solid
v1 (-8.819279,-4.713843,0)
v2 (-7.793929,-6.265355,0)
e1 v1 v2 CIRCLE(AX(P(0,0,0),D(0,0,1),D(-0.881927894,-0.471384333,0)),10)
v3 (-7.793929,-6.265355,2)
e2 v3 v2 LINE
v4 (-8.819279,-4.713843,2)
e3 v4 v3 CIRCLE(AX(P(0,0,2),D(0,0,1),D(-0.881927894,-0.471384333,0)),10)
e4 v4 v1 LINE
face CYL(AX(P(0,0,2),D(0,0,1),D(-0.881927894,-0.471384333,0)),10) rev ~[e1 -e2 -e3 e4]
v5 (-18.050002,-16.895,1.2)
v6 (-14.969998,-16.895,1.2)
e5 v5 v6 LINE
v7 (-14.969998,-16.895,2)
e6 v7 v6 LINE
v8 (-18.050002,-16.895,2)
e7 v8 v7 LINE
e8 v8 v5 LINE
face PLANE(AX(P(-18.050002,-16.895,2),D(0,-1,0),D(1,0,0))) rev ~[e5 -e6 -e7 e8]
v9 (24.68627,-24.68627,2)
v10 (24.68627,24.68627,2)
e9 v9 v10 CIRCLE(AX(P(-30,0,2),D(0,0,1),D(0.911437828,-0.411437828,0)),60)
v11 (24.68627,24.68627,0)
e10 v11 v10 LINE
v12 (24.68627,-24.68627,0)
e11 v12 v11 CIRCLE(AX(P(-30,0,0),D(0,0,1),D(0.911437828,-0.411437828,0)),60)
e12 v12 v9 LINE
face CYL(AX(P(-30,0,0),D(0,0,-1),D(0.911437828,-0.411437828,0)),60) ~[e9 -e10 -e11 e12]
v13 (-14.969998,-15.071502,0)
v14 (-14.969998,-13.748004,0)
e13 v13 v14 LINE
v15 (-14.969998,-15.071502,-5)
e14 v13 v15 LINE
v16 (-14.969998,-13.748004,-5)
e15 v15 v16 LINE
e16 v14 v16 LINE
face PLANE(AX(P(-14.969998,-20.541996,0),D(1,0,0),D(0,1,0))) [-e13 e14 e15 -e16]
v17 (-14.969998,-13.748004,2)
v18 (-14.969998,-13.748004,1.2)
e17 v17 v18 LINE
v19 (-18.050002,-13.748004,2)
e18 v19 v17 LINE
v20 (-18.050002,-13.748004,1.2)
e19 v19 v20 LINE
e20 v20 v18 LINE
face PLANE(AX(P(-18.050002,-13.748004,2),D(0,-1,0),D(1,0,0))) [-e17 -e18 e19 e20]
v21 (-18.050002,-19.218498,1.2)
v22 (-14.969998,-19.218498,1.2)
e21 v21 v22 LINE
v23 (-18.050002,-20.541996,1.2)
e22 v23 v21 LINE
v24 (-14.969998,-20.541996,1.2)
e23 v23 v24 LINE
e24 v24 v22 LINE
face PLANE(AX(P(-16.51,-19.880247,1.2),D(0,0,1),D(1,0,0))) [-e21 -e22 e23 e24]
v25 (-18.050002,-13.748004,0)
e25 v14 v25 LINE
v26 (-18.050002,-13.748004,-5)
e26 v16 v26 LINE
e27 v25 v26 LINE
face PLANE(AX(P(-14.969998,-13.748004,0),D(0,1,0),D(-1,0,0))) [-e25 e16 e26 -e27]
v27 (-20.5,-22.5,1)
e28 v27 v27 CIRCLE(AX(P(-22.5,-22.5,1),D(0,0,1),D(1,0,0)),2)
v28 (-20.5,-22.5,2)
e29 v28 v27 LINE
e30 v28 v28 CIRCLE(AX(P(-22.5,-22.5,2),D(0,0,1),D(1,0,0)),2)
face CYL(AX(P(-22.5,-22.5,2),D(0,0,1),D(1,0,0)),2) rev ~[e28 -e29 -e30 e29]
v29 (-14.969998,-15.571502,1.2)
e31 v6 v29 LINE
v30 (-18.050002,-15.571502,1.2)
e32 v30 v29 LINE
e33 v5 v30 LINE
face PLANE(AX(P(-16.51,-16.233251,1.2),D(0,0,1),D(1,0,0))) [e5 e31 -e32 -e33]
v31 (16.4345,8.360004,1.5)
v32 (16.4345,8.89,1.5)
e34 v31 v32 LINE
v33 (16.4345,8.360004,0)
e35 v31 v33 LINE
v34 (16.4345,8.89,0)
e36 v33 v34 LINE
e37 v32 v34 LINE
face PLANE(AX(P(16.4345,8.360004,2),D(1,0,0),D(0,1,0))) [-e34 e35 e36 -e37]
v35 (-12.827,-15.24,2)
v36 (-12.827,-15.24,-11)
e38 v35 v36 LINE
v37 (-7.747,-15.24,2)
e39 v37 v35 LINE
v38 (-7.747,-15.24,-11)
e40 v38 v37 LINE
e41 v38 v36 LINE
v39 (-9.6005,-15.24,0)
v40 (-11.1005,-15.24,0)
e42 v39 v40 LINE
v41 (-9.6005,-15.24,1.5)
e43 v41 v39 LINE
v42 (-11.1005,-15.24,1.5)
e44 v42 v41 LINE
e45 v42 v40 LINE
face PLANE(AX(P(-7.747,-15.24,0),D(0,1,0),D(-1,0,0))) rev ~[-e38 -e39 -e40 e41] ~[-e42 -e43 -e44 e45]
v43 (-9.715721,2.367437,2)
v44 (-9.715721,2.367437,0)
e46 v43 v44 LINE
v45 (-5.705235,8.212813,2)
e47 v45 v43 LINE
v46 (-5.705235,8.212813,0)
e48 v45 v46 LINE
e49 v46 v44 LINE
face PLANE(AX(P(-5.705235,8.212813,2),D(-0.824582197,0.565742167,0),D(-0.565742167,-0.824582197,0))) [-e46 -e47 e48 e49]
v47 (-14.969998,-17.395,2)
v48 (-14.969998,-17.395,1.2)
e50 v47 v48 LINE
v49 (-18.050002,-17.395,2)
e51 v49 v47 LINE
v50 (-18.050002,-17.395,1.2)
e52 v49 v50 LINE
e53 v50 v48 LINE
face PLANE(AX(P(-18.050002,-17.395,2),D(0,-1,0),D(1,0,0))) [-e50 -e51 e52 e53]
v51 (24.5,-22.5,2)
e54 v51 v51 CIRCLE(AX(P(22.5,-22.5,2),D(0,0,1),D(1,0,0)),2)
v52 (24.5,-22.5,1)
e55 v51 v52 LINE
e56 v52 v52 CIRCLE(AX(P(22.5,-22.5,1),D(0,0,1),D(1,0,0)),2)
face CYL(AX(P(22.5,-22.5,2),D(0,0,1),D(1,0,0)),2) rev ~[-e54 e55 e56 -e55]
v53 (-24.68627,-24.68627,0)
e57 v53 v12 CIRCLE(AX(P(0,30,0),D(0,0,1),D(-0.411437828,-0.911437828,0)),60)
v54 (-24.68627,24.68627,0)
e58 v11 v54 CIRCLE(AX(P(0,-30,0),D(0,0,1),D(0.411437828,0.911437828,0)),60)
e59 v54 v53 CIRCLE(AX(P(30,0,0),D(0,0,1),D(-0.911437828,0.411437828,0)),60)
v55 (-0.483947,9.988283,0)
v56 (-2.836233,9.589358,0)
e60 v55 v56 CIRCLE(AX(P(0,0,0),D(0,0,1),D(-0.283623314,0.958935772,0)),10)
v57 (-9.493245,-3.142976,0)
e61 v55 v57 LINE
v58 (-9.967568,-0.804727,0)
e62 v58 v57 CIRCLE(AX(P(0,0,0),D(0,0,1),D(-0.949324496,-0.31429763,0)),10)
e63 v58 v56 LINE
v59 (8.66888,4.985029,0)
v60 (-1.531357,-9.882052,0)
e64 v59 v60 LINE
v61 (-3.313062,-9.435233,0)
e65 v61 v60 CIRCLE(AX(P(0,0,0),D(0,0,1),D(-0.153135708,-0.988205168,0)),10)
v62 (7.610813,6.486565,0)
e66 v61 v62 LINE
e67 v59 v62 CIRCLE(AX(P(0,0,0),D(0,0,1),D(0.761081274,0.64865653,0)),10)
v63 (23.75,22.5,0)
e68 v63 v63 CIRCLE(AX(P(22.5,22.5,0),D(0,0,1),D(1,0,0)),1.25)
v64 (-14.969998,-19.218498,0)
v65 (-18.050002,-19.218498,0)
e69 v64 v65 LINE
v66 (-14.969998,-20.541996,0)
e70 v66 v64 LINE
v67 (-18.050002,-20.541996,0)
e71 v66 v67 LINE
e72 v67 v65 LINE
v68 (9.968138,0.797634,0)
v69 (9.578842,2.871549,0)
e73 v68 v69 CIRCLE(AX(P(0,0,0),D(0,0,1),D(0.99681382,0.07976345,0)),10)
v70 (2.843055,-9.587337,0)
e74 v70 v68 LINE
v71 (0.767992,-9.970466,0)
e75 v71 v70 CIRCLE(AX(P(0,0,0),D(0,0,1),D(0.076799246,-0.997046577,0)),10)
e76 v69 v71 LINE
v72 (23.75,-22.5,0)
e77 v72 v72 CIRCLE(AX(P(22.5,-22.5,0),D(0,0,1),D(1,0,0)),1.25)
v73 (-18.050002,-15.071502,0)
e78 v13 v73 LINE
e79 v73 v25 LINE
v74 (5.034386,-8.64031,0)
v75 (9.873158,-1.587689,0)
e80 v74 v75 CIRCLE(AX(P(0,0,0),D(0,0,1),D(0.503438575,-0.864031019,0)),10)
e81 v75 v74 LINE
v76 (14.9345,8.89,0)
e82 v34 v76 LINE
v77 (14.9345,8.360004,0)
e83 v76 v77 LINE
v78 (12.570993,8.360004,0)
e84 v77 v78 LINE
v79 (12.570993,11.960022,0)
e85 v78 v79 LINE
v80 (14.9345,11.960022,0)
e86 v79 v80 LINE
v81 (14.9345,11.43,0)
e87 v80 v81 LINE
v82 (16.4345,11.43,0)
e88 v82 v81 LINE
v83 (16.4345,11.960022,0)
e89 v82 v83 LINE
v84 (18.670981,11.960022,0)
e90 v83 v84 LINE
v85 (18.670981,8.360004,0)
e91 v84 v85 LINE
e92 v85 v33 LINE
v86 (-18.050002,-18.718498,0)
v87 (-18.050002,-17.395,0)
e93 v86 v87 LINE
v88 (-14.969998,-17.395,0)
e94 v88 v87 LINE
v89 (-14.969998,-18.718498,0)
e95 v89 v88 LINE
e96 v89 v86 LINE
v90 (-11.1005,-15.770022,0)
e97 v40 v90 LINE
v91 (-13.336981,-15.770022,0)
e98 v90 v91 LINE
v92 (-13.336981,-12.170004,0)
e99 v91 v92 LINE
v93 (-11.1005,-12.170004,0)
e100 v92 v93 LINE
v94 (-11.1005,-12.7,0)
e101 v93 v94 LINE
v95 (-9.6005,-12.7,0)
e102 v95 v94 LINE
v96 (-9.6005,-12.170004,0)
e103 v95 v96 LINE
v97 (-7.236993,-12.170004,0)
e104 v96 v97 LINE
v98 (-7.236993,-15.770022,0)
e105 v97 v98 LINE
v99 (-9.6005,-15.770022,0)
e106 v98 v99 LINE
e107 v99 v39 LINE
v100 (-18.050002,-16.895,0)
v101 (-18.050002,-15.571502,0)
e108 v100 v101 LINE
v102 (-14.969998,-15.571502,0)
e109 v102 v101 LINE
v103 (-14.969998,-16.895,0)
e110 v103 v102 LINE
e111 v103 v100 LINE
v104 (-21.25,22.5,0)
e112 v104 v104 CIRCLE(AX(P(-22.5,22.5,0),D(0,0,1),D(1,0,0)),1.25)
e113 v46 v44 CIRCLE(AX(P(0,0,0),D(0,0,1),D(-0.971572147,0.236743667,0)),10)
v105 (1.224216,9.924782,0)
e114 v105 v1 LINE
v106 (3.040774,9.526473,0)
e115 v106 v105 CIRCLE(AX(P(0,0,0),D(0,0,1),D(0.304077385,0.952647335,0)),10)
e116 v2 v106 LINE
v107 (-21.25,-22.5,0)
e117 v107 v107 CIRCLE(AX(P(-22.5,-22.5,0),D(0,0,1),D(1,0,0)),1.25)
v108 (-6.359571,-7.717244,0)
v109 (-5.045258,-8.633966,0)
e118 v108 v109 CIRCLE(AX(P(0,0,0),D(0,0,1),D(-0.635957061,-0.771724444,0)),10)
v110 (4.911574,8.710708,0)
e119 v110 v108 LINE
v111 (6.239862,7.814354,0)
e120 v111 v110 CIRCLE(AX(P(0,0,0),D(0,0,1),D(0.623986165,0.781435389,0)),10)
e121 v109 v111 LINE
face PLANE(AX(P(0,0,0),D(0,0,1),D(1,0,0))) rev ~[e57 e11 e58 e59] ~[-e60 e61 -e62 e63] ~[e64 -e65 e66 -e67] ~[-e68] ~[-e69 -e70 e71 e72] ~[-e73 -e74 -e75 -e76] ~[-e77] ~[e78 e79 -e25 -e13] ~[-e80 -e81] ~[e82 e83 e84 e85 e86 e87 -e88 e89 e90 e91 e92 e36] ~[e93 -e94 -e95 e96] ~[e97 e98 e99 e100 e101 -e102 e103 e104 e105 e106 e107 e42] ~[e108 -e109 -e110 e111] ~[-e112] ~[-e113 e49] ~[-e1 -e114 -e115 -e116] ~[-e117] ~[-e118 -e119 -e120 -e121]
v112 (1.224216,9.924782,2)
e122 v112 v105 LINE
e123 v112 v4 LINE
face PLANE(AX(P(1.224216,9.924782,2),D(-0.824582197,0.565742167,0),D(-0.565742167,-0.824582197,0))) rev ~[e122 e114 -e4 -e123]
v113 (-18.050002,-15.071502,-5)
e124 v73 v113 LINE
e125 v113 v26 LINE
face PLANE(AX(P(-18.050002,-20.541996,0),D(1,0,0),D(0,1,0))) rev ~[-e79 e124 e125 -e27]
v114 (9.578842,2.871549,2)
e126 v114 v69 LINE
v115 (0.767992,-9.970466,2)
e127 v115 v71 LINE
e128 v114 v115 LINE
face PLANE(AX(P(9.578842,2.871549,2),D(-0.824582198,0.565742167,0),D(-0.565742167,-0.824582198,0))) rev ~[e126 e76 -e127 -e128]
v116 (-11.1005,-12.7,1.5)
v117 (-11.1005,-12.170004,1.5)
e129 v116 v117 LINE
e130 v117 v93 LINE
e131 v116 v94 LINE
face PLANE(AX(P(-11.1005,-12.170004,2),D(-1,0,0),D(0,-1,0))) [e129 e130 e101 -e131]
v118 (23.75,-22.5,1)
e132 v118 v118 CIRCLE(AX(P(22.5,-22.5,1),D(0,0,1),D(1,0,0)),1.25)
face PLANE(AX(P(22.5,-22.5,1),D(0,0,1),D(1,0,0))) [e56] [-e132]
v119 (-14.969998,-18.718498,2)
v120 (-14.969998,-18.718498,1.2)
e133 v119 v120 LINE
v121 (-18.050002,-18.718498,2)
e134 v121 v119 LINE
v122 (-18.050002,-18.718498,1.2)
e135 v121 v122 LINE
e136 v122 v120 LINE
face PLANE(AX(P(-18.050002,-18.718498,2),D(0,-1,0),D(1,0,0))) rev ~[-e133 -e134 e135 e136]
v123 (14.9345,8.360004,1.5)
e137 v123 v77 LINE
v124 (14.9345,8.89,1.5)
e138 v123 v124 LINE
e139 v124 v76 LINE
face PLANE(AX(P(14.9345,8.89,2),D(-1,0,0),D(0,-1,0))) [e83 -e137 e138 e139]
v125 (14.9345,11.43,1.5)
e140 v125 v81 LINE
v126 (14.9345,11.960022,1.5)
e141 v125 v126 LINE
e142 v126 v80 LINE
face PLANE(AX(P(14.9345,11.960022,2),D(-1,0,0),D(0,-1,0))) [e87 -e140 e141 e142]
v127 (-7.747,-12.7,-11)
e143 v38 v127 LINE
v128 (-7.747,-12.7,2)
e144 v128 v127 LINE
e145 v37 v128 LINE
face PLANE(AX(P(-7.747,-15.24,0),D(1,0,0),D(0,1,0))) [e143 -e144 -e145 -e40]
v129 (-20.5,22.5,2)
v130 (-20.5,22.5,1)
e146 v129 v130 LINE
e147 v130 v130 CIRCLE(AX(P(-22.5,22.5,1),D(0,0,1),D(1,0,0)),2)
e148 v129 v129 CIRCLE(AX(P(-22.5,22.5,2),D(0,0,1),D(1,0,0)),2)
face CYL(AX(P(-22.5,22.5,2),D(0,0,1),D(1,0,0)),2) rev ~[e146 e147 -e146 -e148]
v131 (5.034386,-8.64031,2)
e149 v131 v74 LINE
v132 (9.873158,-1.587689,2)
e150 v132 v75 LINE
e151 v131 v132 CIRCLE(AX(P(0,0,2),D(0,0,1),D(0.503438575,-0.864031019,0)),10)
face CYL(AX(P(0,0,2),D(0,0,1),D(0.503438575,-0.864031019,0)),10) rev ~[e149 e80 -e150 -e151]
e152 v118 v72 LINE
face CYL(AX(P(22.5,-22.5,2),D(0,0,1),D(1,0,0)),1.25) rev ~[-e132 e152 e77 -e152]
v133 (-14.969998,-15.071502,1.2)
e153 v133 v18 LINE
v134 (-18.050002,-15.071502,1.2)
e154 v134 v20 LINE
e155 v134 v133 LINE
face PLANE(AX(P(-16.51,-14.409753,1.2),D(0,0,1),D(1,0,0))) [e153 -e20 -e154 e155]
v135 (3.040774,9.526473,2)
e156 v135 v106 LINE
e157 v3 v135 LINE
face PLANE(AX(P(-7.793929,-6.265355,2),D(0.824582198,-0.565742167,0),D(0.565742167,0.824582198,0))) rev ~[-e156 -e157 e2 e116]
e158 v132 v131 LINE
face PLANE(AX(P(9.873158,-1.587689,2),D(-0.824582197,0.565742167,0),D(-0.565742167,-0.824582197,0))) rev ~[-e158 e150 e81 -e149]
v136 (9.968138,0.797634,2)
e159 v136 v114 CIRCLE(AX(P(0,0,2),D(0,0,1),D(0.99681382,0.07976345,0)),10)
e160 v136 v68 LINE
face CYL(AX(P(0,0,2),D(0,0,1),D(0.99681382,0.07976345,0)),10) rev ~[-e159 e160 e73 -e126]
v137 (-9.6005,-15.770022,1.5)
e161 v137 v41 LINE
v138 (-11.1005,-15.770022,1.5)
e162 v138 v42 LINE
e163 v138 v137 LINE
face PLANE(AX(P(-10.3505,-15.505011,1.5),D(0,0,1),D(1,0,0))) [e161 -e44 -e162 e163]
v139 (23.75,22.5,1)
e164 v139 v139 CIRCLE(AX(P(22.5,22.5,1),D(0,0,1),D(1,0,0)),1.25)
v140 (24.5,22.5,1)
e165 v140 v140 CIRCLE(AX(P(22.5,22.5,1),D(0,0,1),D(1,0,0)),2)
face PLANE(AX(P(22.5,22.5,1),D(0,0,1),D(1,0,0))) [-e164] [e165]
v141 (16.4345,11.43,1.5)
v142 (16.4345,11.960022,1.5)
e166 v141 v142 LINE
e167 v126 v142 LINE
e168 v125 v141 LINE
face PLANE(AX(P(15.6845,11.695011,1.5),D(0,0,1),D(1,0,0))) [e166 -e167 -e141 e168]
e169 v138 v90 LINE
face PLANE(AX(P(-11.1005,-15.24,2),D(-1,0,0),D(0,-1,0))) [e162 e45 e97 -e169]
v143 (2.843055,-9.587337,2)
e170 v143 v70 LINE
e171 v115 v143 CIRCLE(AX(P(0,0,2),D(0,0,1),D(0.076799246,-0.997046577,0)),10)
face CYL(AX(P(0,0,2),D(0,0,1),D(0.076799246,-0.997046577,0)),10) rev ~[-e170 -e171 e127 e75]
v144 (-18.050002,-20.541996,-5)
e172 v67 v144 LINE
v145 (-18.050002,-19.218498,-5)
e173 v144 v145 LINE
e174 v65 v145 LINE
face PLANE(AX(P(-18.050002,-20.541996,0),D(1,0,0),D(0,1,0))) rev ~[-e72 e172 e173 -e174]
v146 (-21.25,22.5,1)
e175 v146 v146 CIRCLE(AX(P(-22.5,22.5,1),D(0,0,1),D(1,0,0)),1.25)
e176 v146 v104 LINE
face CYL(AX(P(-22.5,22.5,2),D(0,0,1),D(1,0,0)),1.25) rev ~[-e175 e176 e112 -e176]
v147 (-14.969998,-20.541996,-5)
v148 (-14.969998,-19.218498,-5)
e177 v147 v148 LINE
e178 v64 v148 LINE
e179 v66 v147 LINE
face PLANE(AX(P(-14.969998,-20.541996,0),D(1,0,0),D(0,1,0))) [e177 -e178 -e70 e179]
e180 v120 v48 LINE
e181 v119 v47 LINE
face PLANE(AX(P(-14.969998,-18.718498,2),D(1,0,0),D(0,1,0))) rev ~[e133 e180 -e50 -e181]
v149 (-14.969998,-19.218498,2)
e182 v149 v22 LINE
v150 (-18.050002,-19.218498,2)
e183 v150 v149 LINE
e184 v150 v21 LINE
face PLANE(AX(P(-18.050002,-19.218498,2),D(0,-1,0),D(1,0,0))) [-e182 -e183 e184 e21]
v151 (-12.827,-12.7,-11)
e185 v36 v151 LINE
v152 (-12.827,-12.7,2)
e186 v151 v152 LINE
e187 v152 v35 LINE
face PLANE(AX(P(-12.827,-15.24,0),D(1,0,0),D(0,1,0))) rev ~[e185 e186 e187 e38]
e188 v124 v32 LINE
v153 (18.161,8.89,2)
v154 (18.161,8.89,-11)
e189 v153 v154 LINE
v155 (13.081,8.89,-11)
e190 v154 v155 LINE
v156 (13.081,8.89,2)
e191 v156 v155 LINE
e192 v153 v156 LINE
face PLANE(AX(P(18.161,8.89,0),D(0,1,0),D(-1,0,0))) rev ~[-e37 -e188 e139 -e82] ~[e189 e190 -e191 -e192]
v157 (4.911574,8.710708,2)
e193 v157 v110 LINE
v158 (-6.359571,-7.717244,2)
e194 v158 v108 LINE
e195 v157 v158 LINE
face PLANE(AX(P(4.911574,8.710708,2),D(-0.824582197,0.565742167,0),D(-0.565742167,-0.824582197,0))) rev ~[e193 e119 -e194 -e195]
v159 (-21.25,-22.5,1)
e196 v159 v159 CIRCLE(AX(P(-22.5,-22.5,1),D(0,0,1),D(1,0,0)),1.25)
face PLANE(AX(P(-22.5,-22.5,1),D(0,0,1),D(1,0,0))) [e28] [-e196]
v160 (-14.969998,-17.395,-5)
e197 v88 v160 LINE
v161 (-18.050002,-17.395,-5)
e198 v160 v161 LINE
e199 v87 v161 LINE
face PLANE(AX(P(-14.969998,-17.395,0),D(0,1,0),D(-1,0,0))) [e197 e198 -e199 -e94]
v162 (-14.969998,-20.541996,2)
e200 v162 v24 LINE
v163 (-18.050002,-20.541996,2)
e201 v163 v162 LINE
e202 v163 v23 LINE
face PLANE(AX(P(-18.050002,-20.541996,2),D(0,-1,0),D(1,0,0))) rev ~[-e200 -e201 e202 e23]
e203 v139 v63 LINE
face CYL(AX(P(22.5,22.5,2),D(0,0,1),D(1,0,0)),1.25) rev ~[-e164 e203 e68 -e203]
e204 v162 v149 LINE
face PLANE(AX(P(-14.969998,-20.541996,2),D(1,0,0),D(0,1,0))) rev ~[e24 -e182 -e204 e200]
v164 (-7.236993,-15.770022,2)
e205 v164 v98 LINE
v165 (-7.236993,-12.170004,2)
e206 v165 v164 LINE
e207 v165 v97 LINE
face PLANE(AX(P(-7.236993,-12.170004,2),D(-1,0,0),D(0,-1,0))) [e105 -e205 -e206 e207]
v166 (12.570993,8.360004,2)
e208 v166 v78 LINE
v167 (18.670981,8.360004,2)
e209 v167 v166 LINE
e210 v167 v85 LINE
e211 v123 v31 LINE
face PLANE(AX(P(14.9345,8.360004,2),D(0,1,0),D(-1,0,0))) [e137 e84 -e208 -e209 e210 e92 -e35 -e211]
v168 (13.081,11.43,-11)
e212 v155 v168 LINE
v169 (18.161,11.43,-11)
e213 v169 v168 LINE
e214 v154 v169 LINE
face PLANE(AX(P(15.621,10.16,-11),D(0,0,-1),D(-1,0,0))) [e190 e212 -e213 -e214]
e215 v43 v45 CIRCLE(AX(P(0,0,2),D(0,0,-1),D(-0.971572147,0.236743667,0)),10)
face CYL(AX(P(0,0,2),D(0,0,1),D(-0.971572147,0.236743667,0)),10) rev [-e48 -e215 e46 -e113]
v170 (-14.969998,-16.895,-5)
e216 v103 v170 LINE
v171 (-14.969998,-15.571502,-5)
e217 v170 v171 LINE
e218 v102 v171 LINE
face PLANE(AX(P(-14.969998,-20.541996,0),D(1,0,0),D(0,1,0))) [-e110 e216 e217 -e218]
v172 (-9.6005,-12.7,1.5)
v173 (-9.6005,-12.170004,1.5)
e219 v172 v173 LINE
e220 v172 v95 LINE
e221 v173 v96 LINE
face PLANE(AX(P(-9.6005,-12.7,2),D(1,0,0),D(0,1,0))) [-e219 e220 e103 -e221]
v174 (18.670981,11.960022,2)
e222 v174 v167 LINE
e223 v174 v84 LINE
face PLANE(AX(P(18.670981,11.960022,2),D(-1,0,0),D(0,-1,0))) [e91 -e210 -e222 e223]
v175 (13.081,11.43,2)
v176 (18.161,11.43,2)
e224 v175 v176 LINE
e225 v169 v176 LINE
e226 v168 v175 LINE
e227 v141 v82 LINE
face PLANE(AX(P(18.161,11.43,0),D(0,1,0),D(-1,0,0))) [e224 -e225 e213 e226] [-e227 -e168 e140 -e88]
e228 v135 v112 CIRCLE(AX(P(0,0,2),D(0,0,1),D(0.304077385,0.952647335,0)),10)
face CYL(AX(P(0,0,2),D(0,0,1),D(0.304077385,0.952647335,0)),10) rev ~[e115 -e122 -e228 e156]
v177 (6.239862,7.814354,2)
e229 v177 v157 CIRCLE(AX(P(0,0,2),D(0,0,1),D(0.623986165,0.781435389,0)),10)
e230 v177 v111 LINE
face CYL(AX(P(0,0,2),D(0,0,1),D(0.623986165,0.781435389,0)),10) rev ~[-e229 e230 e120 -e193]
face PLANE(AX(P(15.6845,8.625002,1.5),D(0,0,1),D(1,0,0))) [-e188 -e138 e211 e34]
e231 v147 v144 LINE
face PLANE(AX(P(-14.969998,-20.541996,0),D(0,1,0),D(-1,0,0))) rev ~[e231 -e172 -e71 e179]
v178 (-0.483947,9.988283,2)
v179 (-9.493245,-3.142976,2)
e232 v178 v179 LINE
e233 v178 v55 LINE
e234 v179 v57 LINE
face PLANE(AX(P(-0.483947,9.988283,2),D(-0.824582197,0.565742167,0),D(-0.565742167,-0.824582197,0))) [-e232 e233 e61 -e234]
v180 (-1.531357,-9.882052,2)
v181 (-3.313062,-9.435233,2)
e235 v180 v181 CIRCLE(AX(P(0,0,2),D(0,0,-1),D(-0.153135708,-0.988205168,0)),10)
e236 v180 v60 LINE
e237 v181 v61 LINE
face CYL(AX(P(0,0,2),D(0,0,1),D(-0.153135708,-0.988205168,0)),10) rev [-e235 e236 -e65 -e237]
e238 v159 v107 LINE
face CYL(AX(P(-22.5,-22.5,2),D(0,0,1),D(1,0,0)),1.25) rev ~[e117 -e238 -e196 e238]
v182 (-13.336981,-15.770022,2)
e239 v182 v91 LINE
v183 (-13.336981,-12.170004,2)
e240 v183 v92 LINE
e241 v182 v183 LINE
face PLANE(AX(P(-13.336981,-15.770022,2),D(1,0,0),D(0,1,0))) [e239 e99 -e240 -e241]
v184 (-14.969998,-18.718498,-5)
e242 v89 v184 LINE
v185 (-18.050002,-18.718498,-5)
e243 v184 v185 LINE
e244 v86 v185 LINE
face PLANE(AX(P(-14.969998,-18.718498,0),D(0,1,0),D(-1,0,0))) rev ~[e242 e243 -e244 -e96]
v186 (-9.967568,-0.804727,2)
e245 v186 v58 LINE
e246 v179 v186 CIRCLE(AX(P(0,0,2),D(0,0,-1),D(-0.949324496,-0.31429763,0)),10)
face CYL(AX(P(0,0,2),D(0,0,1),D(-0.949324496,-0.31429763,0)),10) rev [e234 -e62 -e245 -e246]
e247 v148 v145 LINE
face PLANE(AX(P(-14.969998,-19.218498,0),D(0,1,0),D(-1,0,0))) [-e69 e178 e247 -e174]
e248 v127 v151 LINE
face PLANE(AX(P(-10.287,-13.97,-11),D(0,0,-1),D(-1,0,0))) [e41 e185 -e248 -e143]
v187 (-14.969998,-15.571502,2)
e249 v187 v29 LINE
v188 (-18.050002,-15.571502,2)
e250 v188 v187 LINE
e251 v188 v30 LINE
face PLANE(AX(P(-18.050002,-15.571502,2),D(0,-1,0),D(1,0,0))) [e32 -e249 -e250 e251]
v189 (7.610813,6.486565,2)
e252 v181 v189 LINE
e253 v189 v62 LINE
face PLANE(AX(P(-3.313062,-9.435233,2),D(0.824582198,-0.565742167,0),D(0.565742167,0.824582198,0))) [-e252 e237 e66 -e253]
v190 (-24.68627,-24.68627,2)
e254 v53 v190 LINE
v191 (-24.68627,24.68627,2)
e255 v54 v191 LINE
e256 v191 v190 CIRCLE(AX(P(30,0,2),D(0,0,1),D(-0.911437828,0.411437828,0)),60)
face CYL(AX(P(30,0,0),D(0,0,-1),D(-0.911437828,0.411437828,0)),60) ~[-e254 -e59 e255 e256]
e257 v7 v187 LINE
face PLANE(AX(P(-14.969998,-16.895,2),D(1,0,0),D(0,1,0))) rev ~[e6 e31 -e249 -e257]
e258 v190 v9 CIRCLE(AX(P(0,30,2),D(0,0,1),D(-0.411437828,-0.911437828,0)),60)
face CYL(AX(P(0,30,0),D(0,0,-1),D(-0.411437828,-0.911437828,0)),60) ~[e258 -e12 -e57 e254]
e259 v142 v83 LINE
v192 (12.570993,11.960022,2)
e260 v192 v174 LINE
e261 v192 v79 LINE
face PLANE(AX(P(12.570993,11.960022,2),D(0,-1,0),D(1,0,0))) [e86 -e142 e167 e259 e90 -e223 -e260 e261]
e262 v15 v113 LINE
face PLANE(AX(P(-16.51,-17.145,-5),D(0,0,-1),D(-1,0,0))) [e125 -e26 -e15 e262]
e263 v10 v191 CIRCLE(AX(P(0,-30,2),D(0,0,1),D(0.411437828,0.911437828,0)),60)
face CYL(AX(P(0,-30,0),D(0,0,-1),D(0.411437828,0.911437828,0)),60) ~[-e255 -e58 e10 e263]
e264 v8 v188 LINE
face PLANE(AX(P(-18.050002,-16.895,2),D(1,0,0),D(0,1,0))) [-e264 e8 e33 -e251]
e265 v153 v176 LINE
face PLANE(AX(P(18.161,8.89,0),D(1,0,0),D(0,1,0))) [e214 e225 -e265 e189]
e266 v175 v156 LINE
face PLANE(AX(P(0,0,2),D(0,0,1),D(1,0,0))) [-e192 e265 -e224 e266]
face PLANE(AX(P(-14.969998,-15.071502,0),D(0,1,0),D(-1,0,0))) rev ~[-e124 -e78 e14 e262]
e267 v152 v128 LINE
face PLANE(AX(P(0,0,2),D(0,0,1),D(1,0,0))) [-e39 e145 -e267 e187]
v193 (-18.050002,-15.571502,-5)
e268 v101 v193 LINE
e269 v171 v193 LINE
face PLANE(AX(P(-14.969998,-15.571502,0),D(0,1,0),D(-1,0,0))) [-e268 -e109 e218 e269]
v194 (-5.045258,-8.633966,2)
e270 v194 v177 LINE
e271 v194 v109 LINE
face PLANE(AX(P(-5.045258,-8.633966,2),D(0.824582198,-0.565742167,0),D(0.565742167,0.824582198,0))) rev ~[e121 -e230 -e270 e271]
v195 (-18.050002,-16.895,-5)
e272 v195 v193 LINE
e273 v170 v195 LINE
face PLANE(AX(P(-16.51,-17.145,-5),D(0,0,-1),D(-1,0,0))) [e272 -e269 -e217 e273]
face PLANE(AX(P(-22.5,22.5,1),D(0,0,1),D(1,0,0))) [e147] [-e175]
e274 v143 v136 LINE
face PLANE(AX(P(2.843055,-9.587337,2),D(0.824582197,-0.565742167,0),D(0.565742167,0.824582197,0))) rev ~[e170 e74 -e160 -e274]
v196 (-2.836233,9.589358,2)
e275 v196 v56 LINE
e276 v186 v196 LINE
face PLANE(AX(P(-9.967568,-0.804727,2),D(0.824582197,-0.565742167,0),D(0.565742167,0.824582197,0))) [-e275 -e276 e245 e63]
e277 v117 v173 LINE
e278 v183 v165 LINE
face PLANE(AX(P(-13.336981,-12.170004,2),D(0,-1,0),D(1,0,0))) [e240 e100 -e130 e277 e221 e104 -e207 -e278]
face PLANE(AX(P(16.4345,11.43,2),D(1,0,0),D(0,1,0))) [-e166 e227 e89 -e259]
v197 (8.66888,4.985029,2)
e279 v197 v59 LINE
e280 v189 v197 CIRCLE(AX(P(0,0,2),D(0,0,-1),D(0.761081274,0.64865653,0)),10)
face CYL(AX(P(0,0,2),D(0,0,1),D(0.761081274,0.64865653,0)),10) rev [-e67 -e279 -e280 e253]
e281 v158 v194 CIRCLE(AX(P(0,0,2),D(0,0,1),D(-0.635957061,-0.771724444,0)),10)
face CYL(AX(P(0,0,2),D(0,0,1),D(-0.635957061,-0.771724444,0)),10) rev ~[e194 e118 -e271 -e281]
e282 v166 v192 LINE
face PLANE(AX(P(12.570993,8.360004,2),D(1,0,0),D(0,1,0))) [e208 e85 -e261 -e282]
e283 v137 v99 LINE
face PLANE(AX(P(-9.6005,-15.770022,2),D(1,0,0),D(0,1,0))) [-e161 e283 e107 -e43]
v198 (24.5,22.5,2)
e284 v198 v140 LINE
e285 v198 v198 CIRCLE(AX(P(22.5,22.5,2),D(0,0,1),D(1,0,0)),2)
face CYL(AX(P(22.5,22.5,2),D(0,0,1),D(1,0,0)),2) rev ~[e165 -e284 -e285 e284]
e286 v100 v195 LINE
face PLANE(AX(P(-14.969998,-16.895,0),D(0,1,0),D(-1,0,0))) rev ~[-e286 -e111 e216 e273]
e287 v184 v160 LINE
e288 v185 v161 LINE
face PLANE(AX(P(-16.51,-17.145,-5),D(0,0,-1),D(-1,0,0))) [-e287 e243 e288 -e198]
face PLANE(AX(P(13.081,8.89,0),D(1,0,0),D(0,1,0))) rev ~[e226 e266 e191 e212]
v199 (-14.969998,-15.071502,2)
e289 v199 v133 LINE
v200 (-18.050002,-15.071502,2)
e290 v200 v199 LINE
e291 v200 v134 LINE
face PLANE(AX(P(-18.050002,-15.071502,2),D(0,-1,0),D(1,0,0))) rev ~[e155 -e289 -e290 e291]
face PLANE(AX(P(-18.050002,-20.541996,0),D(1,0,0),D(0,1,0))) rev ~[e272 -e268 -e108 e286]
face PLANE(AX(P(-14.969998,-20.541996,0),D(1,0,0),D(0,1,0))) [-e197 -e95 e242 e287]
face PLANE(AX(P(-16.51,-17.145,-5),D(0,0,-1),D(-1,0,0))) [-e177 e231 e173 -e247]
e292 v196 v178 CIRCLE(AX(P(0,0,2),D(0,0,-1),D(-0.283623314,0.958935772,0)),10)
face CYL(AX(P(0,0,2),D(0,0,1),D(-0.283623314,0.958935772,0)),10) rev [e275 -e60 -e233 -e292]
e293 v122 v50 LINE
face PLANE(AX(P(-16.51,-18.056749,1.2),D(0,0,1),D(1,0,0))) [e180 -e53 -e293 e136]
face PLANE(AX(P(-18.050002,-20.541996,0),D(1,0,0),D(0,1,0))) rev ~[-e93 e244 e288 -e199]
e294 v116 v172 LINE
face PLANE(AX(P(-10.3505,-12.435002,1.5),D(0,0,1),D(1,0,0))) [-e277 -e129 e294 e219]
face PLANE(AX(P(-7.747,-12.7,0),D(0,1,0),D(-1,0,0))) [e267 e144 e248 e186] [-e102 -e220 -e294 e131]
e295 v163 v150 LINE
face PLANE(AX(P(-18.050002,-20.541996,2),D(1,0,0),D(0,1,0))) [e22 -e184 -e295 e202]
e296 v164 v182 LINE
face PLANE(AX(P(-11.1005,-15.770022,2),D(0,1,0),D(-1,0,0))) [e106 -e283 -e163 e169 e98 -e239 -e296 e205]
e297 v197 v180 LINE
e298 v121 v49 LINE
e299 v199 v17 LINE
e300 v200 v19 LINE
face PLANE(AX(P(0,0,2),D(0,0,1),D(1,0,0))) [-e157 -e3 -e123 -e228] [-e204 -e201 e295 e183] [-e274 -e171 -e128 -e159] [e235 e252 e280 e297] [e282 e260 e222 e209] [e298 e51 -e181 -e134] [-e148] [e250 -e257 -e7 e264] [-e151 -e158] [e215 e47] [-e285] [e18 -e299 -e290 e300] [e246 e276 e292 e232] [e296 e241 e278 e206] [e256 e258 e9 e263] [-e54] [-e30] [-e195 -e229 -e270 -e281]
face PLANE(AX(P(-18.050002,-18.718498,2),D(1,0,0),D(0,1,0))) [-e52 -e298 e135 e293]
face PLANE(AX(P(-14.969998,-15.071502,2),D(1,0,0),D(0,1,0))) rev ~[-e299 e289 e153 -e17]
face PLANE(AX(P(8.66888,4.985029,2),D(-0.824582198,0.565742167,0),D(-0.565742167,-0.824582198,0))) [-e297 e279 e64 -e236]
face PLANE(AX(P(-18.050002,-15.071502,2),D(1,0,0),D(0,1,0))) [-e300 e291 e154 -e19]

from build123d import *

# Parameters (mm, degrees)
EXTRUDE_1_DEPTH     = 2
SKETCH_3_R          = 1.25
CUT_EXTRUDE_1_DEPTH = 2
SKETCH_4_R          = 2
CUT_EXTRUDE_2_DEPTH = 1
SKETCH_6_W          = 3.080004
SKETCH_6_H          = 6.793992
EXTRUDE_2_DEPTH     = 5
CUT_EXTRUDE_START   = -5
SKETCH_7_W          = 3.080004
SKETCH_7_H          = 0.5
CUT_EXTRUDE_4_DEPTH = 5
CUT_EXTRUDE_5_DEPTH = 5
SKETCH_9_W          = 3.080004
SKETCH_9_H          = 1.323498
CUT_EXTRUDE_6_DEPTH = 0.8
CUT_EXTRUDE_7_DEPTH = 3
SKETCH_11_W         = 1.5
SKETCH_11_H         = 0.5299964
SKETCH_11_H_2       = 0.5300218
CUT_EXTRUDE_8_DEPTH = 0.5
SKETCH_12_W         = 5.08
SKETCH_12_H         = 2.54
EXTRUDE_3_DEPTH     = 11


with BuildPart() as part:
    # 草图2 → 凸台-拉伸1 (new body)
    with BuildSketch(Plane.XY):
        with BuildLine():
            ThreePointArc((24.686269666, 24.686269666), (0, 30), (-24.686269666, 24.686269666))
            ThreePointArc((-24.686269666, 24.686269666), (-30, 0), (-24.686269666, -24.686269666))
            ThreePointArc((-24.686269666, -24.686269666), (0, -30), (24.686269666, -24.686269666))
            ThreePointArc((24.686269666, -24.686269666), (30, 0), (24.686269666, 24.686269666))
        make_face()
    extrude(amount=EXTRUDE_1_DEPTH)

    # 草图3 → 切除-拉伸1 (cut)
    with BuildSketch(Plane.XY.offset(2)):
        with Locations((-22.5, 22.5)):
            Circle(SKETCH_3_R)
        with Locations((22.5, 22.5)):
            Circle(SKETCH_3_R)
        with Locations((-22.5, -22.5)):
            Circle(SKETCH_3_R)
        with Locations((22.5, -22.5)):
            Circle(SKETCH_3_R)
    extrude(amount=-CUT_EXTRUDE_1_DEPTH, mode=Mode.SUBTRACT)

    # 草图4 → 切除-拉伸2 (cut)
    with BuildSketch(Plane.XY.offset(2)):
        with Locations((-22.5, 22.5)):
            Circle(SKETCH_4_R)
        with Locations((22.5, 22.5)):
            Circle(SKETCH_4_R)
        with Locations((22.5, -22.5)):
            Circle(SKETCH_4_R)
        with Locations((-22.5, -22.5)):
            Circle(SKETCH_4_R)
    extrude(amount=-CUT_EXTRUDE_2_DEPTH, mode=Mode.SUBTRACT)

    # 草图6 → 凸台-拉伸2 (add)
    with BuildSketch(Plane(origin=(0, 0, 0), x_dir=(-1, 0, 0), z_dir=(0, 0, -1))):
        with Locations((16.51, -17.145)):
            Rectangle(SKETCH_6_W, SKETCH_6_H)
    extrude(amount=EXTRUDE_2_DEPTH)

    # 草图7 → 切除-拉伸4 (cut)
    with BuildSketch(Plane(origin=(0, 0, -5), x_dir=(-1, 0, 0), z_dir=(0, 0, -1)).offset(CUT_EXTRUDE_START)):
        with Locations((16.51, -15.321502)):
            Rectangle(SKETCH_7_W, SKETCH_7_H)
        with Locations((16.51, -17.145)):
            Rectangle(SKETCH_7_W, SKETCH_7_H)
        with Locations((16.51, -18.968498)):
            Rectangle(SKETCH_7_W, SKETCH_7_H)
    extrude(amount=CUT_EXTRUDE_4_DEPTH, mode=Mode.SUBTRACT)

    # 草图8 → 切除-拉伸5 (cut)
    with BuildSketch(Plane.XY.offset(2)):
        with BuildLine():
            Line((4.91157439, 8.710708181), (-6.35957061, -7.717244434))
            ThreePointArc((-6.35957061, -7.717244434), (-5.720805987, -8.201974083), (-5.04525755, -8.633966427))
            Line((-5.04525755, -8.633966427), (6.239861639, 7.81435389))
            ThreePointArc((6.239861639, 7.81435389), (5.593701291, 8.289180048), (4.91157439, 8.710708181))
        make_face()
        with BuildLine():
            Line((-0.483946584, 9.988282921), (-9.493244962, -3.142976312))
            ThreePointArc((-9.493244962, -3.142976312), (-9.800391035, -1.988048178), (-9.967568149, -0.804726786))
            Line((-9.967568149, -0.804726786), (-2.836233135, 9.589357726))
            ThreePointArc((-2.836233135, 9.589357726), (-1.672029805, 9.859224936), (-0.483946584, 9.988282921))
        make_face()
        with BuildLine():
            Line((-5.705235003, 8.212812768), (-9.715721467, 2.367436669))
            ThreePointArc((-9.715721467, 2.367436669), (-8.245821975, 5.65742167), (-5.705235003, 8.212812768))
        make_face()
        with BuildLine():
            Line((9.578841572, 2.871549083), (0.767992477, -9.970465764))
            ThreePointArc((0.767992477, -9.970465764), (1.815657886, -9.833788001), (2.843055403, -9.587337272))
            Line((2.843055403, -9.587337272), (9.968138202, 0.797634494))
            ThreePointArc((9.968138202, 0.797634494), (9.828345995, 1.844888885), (9.578841572, 2.871549083))
        make_face()
        with BuildLine():
            Line((9.873157751, -1.587688896), (5.034385744, -8.64031019))
            ThreePointArc((5.034385744, -8.64031019), (8.245821975, -5.65742167), (9.873157751, -1.587688896))
        make_face()
        with BuildLine():
            Line((1.224216457, 9.924781815), (-8.819278945, -4.713843325))
            ThreePointArc((-8.819278945, -4.713843325), (-8.34274934, -5.513486506), (-7.793929004, -6.265354793))
            Line((-7.793929004, -6.265354793), (3.040773833, 9.52647335))
            ThreePointArc((3.040773833, 9.52647335), (2.141774487, 9.767947689), (1.224216457, 9.924781815))
        make_face()
        with BuildLine():
            Line((8.668880472, 4.985028723), (-1.53135707, -9.882051686))
            ThreePointArc((-1.53135707, -9.882051686), (-2.432490647, -9.699638614), (-3.313061985, -9.435232921))
            Line((-3.313061985, -9.435232921), (7.610812743, 6.4865653))
            ThreePointArc((7.610812743, 6.4865653), (8.174396358, 5.760142723), (8.668880472, 4.985028723))
        make_face()
    extrude(amount=-CUT_EXTRUDE_5_DEPTH, mode=Mode.SUBTRACT)

    # 草图9 → 切除-拉伸6 (cut)
    with BuildSketch(Plane.XY.offset(2)):
        with Locations((-16.51, -14.409753)):
            Rectangle(SKETCH_9_W, SKETCH_9_H)
        with Locations((-16.51, -16.233251)):
            Rectangle(SKETCH_9_W, SKETCH_9_H)
        with Locations((-16.51, -18.056749)):
            Rectangle(SKETCH_9_W, SKETCH_9_H)
        with Locations((-16.51, -19.880247)):
            Rectangle(SKETCH_9_W, SKETCH_9_H)
    extrude(amount=-CUT_EXTRUDE_6_DEPTH, mode=Mode.SUBTRACT)

    # 草图10 → 切除-拉伸7 (cut)
    with BuildSketch(Plane.XY.offset(2)):
        Polygon((-11.1005, -12.1700036), (-11.1005, -12.7), (-12.827, -12.7), (-12.827, -15.24), (-11.1005, -15.24), (-11.1005, -15.7700218), (-13.3369812, -15.7700218), (-13.3369812, -12.1700036), align=None)
        Polygon((-7.2369934, -12.1700036), (-7.2369934, -15.7700218), (-9.6005, -15.7700218), (-9.6005, -15.24), (-7.747, -15.24), (-7.747, -12.7), (-9.6005, -12.7), (-9.6005, -12.1700036), align=None)
        Polygon((12.5709934, 11.9600218), (14.9345, 11.9600218), (14.9345, 11.43), (13.081, 11.43), (13.081, 8.89), (14.9345, 8.89), (14.9345, 8.3600036), (12.5709934, 8.3600036), align=None)
        Polygon((18.6709812, 11.9600218), (18.6709812, 8.3600036), (16.4345, 8.3600036), (16.4345, 8.89), (18.161, 8.89), (18.161, 11.43), (16.4345, 11.43), (16.4345, 11.9600218), align=None)
    extrude(amount=-CUT_EXTRUDE_7_DEPTH, mode=Mode.SUBTRACT)

    # 草图11 → 切除-拉伸8 (cut)
    with BuildSketch(Plane.XY.offset(2)):
        with Locations((-10.3505, -12.4350018)):
            Rectangle(SKETCH_11_W, SKETCH_11_H)
        with Locations((-10.3505, -15.5050109)):
            Rectangle(SKETCH_11_W, SKETCH_11_H_2)
        with Locations((15.6845, 11.6950109)):
            Rectangle(SKETCH_11_W, SKETCH_11_H_2)
        with Locations((15.6845, 8.6250018)):
            Rectangle(SKETCH_11_W, SKETCH_11_H)
    extrude(amount=-CUT_EXTRUDE_8_DEPTH, mode=Mode.SUBTRACT)

    # 草图12 → 凸台-拉伸3 (add)
    with BuildSketch(Plane(origin=(0, 0, 0), x_dir=(-1, 0, 0), z_dir=(0, 0, -1))):
        with Locations((-15.621, 10.16)):
            Rectangle(SKETCH_12_W, SKETCH_12_H)
        with Locations((10.287, -13.97)):
            Rectangle(SKETCH_12_W, SKETCH_12_H)
    extrude(amount=EXTRUDE_3_DEPTH)


solid = part.part
